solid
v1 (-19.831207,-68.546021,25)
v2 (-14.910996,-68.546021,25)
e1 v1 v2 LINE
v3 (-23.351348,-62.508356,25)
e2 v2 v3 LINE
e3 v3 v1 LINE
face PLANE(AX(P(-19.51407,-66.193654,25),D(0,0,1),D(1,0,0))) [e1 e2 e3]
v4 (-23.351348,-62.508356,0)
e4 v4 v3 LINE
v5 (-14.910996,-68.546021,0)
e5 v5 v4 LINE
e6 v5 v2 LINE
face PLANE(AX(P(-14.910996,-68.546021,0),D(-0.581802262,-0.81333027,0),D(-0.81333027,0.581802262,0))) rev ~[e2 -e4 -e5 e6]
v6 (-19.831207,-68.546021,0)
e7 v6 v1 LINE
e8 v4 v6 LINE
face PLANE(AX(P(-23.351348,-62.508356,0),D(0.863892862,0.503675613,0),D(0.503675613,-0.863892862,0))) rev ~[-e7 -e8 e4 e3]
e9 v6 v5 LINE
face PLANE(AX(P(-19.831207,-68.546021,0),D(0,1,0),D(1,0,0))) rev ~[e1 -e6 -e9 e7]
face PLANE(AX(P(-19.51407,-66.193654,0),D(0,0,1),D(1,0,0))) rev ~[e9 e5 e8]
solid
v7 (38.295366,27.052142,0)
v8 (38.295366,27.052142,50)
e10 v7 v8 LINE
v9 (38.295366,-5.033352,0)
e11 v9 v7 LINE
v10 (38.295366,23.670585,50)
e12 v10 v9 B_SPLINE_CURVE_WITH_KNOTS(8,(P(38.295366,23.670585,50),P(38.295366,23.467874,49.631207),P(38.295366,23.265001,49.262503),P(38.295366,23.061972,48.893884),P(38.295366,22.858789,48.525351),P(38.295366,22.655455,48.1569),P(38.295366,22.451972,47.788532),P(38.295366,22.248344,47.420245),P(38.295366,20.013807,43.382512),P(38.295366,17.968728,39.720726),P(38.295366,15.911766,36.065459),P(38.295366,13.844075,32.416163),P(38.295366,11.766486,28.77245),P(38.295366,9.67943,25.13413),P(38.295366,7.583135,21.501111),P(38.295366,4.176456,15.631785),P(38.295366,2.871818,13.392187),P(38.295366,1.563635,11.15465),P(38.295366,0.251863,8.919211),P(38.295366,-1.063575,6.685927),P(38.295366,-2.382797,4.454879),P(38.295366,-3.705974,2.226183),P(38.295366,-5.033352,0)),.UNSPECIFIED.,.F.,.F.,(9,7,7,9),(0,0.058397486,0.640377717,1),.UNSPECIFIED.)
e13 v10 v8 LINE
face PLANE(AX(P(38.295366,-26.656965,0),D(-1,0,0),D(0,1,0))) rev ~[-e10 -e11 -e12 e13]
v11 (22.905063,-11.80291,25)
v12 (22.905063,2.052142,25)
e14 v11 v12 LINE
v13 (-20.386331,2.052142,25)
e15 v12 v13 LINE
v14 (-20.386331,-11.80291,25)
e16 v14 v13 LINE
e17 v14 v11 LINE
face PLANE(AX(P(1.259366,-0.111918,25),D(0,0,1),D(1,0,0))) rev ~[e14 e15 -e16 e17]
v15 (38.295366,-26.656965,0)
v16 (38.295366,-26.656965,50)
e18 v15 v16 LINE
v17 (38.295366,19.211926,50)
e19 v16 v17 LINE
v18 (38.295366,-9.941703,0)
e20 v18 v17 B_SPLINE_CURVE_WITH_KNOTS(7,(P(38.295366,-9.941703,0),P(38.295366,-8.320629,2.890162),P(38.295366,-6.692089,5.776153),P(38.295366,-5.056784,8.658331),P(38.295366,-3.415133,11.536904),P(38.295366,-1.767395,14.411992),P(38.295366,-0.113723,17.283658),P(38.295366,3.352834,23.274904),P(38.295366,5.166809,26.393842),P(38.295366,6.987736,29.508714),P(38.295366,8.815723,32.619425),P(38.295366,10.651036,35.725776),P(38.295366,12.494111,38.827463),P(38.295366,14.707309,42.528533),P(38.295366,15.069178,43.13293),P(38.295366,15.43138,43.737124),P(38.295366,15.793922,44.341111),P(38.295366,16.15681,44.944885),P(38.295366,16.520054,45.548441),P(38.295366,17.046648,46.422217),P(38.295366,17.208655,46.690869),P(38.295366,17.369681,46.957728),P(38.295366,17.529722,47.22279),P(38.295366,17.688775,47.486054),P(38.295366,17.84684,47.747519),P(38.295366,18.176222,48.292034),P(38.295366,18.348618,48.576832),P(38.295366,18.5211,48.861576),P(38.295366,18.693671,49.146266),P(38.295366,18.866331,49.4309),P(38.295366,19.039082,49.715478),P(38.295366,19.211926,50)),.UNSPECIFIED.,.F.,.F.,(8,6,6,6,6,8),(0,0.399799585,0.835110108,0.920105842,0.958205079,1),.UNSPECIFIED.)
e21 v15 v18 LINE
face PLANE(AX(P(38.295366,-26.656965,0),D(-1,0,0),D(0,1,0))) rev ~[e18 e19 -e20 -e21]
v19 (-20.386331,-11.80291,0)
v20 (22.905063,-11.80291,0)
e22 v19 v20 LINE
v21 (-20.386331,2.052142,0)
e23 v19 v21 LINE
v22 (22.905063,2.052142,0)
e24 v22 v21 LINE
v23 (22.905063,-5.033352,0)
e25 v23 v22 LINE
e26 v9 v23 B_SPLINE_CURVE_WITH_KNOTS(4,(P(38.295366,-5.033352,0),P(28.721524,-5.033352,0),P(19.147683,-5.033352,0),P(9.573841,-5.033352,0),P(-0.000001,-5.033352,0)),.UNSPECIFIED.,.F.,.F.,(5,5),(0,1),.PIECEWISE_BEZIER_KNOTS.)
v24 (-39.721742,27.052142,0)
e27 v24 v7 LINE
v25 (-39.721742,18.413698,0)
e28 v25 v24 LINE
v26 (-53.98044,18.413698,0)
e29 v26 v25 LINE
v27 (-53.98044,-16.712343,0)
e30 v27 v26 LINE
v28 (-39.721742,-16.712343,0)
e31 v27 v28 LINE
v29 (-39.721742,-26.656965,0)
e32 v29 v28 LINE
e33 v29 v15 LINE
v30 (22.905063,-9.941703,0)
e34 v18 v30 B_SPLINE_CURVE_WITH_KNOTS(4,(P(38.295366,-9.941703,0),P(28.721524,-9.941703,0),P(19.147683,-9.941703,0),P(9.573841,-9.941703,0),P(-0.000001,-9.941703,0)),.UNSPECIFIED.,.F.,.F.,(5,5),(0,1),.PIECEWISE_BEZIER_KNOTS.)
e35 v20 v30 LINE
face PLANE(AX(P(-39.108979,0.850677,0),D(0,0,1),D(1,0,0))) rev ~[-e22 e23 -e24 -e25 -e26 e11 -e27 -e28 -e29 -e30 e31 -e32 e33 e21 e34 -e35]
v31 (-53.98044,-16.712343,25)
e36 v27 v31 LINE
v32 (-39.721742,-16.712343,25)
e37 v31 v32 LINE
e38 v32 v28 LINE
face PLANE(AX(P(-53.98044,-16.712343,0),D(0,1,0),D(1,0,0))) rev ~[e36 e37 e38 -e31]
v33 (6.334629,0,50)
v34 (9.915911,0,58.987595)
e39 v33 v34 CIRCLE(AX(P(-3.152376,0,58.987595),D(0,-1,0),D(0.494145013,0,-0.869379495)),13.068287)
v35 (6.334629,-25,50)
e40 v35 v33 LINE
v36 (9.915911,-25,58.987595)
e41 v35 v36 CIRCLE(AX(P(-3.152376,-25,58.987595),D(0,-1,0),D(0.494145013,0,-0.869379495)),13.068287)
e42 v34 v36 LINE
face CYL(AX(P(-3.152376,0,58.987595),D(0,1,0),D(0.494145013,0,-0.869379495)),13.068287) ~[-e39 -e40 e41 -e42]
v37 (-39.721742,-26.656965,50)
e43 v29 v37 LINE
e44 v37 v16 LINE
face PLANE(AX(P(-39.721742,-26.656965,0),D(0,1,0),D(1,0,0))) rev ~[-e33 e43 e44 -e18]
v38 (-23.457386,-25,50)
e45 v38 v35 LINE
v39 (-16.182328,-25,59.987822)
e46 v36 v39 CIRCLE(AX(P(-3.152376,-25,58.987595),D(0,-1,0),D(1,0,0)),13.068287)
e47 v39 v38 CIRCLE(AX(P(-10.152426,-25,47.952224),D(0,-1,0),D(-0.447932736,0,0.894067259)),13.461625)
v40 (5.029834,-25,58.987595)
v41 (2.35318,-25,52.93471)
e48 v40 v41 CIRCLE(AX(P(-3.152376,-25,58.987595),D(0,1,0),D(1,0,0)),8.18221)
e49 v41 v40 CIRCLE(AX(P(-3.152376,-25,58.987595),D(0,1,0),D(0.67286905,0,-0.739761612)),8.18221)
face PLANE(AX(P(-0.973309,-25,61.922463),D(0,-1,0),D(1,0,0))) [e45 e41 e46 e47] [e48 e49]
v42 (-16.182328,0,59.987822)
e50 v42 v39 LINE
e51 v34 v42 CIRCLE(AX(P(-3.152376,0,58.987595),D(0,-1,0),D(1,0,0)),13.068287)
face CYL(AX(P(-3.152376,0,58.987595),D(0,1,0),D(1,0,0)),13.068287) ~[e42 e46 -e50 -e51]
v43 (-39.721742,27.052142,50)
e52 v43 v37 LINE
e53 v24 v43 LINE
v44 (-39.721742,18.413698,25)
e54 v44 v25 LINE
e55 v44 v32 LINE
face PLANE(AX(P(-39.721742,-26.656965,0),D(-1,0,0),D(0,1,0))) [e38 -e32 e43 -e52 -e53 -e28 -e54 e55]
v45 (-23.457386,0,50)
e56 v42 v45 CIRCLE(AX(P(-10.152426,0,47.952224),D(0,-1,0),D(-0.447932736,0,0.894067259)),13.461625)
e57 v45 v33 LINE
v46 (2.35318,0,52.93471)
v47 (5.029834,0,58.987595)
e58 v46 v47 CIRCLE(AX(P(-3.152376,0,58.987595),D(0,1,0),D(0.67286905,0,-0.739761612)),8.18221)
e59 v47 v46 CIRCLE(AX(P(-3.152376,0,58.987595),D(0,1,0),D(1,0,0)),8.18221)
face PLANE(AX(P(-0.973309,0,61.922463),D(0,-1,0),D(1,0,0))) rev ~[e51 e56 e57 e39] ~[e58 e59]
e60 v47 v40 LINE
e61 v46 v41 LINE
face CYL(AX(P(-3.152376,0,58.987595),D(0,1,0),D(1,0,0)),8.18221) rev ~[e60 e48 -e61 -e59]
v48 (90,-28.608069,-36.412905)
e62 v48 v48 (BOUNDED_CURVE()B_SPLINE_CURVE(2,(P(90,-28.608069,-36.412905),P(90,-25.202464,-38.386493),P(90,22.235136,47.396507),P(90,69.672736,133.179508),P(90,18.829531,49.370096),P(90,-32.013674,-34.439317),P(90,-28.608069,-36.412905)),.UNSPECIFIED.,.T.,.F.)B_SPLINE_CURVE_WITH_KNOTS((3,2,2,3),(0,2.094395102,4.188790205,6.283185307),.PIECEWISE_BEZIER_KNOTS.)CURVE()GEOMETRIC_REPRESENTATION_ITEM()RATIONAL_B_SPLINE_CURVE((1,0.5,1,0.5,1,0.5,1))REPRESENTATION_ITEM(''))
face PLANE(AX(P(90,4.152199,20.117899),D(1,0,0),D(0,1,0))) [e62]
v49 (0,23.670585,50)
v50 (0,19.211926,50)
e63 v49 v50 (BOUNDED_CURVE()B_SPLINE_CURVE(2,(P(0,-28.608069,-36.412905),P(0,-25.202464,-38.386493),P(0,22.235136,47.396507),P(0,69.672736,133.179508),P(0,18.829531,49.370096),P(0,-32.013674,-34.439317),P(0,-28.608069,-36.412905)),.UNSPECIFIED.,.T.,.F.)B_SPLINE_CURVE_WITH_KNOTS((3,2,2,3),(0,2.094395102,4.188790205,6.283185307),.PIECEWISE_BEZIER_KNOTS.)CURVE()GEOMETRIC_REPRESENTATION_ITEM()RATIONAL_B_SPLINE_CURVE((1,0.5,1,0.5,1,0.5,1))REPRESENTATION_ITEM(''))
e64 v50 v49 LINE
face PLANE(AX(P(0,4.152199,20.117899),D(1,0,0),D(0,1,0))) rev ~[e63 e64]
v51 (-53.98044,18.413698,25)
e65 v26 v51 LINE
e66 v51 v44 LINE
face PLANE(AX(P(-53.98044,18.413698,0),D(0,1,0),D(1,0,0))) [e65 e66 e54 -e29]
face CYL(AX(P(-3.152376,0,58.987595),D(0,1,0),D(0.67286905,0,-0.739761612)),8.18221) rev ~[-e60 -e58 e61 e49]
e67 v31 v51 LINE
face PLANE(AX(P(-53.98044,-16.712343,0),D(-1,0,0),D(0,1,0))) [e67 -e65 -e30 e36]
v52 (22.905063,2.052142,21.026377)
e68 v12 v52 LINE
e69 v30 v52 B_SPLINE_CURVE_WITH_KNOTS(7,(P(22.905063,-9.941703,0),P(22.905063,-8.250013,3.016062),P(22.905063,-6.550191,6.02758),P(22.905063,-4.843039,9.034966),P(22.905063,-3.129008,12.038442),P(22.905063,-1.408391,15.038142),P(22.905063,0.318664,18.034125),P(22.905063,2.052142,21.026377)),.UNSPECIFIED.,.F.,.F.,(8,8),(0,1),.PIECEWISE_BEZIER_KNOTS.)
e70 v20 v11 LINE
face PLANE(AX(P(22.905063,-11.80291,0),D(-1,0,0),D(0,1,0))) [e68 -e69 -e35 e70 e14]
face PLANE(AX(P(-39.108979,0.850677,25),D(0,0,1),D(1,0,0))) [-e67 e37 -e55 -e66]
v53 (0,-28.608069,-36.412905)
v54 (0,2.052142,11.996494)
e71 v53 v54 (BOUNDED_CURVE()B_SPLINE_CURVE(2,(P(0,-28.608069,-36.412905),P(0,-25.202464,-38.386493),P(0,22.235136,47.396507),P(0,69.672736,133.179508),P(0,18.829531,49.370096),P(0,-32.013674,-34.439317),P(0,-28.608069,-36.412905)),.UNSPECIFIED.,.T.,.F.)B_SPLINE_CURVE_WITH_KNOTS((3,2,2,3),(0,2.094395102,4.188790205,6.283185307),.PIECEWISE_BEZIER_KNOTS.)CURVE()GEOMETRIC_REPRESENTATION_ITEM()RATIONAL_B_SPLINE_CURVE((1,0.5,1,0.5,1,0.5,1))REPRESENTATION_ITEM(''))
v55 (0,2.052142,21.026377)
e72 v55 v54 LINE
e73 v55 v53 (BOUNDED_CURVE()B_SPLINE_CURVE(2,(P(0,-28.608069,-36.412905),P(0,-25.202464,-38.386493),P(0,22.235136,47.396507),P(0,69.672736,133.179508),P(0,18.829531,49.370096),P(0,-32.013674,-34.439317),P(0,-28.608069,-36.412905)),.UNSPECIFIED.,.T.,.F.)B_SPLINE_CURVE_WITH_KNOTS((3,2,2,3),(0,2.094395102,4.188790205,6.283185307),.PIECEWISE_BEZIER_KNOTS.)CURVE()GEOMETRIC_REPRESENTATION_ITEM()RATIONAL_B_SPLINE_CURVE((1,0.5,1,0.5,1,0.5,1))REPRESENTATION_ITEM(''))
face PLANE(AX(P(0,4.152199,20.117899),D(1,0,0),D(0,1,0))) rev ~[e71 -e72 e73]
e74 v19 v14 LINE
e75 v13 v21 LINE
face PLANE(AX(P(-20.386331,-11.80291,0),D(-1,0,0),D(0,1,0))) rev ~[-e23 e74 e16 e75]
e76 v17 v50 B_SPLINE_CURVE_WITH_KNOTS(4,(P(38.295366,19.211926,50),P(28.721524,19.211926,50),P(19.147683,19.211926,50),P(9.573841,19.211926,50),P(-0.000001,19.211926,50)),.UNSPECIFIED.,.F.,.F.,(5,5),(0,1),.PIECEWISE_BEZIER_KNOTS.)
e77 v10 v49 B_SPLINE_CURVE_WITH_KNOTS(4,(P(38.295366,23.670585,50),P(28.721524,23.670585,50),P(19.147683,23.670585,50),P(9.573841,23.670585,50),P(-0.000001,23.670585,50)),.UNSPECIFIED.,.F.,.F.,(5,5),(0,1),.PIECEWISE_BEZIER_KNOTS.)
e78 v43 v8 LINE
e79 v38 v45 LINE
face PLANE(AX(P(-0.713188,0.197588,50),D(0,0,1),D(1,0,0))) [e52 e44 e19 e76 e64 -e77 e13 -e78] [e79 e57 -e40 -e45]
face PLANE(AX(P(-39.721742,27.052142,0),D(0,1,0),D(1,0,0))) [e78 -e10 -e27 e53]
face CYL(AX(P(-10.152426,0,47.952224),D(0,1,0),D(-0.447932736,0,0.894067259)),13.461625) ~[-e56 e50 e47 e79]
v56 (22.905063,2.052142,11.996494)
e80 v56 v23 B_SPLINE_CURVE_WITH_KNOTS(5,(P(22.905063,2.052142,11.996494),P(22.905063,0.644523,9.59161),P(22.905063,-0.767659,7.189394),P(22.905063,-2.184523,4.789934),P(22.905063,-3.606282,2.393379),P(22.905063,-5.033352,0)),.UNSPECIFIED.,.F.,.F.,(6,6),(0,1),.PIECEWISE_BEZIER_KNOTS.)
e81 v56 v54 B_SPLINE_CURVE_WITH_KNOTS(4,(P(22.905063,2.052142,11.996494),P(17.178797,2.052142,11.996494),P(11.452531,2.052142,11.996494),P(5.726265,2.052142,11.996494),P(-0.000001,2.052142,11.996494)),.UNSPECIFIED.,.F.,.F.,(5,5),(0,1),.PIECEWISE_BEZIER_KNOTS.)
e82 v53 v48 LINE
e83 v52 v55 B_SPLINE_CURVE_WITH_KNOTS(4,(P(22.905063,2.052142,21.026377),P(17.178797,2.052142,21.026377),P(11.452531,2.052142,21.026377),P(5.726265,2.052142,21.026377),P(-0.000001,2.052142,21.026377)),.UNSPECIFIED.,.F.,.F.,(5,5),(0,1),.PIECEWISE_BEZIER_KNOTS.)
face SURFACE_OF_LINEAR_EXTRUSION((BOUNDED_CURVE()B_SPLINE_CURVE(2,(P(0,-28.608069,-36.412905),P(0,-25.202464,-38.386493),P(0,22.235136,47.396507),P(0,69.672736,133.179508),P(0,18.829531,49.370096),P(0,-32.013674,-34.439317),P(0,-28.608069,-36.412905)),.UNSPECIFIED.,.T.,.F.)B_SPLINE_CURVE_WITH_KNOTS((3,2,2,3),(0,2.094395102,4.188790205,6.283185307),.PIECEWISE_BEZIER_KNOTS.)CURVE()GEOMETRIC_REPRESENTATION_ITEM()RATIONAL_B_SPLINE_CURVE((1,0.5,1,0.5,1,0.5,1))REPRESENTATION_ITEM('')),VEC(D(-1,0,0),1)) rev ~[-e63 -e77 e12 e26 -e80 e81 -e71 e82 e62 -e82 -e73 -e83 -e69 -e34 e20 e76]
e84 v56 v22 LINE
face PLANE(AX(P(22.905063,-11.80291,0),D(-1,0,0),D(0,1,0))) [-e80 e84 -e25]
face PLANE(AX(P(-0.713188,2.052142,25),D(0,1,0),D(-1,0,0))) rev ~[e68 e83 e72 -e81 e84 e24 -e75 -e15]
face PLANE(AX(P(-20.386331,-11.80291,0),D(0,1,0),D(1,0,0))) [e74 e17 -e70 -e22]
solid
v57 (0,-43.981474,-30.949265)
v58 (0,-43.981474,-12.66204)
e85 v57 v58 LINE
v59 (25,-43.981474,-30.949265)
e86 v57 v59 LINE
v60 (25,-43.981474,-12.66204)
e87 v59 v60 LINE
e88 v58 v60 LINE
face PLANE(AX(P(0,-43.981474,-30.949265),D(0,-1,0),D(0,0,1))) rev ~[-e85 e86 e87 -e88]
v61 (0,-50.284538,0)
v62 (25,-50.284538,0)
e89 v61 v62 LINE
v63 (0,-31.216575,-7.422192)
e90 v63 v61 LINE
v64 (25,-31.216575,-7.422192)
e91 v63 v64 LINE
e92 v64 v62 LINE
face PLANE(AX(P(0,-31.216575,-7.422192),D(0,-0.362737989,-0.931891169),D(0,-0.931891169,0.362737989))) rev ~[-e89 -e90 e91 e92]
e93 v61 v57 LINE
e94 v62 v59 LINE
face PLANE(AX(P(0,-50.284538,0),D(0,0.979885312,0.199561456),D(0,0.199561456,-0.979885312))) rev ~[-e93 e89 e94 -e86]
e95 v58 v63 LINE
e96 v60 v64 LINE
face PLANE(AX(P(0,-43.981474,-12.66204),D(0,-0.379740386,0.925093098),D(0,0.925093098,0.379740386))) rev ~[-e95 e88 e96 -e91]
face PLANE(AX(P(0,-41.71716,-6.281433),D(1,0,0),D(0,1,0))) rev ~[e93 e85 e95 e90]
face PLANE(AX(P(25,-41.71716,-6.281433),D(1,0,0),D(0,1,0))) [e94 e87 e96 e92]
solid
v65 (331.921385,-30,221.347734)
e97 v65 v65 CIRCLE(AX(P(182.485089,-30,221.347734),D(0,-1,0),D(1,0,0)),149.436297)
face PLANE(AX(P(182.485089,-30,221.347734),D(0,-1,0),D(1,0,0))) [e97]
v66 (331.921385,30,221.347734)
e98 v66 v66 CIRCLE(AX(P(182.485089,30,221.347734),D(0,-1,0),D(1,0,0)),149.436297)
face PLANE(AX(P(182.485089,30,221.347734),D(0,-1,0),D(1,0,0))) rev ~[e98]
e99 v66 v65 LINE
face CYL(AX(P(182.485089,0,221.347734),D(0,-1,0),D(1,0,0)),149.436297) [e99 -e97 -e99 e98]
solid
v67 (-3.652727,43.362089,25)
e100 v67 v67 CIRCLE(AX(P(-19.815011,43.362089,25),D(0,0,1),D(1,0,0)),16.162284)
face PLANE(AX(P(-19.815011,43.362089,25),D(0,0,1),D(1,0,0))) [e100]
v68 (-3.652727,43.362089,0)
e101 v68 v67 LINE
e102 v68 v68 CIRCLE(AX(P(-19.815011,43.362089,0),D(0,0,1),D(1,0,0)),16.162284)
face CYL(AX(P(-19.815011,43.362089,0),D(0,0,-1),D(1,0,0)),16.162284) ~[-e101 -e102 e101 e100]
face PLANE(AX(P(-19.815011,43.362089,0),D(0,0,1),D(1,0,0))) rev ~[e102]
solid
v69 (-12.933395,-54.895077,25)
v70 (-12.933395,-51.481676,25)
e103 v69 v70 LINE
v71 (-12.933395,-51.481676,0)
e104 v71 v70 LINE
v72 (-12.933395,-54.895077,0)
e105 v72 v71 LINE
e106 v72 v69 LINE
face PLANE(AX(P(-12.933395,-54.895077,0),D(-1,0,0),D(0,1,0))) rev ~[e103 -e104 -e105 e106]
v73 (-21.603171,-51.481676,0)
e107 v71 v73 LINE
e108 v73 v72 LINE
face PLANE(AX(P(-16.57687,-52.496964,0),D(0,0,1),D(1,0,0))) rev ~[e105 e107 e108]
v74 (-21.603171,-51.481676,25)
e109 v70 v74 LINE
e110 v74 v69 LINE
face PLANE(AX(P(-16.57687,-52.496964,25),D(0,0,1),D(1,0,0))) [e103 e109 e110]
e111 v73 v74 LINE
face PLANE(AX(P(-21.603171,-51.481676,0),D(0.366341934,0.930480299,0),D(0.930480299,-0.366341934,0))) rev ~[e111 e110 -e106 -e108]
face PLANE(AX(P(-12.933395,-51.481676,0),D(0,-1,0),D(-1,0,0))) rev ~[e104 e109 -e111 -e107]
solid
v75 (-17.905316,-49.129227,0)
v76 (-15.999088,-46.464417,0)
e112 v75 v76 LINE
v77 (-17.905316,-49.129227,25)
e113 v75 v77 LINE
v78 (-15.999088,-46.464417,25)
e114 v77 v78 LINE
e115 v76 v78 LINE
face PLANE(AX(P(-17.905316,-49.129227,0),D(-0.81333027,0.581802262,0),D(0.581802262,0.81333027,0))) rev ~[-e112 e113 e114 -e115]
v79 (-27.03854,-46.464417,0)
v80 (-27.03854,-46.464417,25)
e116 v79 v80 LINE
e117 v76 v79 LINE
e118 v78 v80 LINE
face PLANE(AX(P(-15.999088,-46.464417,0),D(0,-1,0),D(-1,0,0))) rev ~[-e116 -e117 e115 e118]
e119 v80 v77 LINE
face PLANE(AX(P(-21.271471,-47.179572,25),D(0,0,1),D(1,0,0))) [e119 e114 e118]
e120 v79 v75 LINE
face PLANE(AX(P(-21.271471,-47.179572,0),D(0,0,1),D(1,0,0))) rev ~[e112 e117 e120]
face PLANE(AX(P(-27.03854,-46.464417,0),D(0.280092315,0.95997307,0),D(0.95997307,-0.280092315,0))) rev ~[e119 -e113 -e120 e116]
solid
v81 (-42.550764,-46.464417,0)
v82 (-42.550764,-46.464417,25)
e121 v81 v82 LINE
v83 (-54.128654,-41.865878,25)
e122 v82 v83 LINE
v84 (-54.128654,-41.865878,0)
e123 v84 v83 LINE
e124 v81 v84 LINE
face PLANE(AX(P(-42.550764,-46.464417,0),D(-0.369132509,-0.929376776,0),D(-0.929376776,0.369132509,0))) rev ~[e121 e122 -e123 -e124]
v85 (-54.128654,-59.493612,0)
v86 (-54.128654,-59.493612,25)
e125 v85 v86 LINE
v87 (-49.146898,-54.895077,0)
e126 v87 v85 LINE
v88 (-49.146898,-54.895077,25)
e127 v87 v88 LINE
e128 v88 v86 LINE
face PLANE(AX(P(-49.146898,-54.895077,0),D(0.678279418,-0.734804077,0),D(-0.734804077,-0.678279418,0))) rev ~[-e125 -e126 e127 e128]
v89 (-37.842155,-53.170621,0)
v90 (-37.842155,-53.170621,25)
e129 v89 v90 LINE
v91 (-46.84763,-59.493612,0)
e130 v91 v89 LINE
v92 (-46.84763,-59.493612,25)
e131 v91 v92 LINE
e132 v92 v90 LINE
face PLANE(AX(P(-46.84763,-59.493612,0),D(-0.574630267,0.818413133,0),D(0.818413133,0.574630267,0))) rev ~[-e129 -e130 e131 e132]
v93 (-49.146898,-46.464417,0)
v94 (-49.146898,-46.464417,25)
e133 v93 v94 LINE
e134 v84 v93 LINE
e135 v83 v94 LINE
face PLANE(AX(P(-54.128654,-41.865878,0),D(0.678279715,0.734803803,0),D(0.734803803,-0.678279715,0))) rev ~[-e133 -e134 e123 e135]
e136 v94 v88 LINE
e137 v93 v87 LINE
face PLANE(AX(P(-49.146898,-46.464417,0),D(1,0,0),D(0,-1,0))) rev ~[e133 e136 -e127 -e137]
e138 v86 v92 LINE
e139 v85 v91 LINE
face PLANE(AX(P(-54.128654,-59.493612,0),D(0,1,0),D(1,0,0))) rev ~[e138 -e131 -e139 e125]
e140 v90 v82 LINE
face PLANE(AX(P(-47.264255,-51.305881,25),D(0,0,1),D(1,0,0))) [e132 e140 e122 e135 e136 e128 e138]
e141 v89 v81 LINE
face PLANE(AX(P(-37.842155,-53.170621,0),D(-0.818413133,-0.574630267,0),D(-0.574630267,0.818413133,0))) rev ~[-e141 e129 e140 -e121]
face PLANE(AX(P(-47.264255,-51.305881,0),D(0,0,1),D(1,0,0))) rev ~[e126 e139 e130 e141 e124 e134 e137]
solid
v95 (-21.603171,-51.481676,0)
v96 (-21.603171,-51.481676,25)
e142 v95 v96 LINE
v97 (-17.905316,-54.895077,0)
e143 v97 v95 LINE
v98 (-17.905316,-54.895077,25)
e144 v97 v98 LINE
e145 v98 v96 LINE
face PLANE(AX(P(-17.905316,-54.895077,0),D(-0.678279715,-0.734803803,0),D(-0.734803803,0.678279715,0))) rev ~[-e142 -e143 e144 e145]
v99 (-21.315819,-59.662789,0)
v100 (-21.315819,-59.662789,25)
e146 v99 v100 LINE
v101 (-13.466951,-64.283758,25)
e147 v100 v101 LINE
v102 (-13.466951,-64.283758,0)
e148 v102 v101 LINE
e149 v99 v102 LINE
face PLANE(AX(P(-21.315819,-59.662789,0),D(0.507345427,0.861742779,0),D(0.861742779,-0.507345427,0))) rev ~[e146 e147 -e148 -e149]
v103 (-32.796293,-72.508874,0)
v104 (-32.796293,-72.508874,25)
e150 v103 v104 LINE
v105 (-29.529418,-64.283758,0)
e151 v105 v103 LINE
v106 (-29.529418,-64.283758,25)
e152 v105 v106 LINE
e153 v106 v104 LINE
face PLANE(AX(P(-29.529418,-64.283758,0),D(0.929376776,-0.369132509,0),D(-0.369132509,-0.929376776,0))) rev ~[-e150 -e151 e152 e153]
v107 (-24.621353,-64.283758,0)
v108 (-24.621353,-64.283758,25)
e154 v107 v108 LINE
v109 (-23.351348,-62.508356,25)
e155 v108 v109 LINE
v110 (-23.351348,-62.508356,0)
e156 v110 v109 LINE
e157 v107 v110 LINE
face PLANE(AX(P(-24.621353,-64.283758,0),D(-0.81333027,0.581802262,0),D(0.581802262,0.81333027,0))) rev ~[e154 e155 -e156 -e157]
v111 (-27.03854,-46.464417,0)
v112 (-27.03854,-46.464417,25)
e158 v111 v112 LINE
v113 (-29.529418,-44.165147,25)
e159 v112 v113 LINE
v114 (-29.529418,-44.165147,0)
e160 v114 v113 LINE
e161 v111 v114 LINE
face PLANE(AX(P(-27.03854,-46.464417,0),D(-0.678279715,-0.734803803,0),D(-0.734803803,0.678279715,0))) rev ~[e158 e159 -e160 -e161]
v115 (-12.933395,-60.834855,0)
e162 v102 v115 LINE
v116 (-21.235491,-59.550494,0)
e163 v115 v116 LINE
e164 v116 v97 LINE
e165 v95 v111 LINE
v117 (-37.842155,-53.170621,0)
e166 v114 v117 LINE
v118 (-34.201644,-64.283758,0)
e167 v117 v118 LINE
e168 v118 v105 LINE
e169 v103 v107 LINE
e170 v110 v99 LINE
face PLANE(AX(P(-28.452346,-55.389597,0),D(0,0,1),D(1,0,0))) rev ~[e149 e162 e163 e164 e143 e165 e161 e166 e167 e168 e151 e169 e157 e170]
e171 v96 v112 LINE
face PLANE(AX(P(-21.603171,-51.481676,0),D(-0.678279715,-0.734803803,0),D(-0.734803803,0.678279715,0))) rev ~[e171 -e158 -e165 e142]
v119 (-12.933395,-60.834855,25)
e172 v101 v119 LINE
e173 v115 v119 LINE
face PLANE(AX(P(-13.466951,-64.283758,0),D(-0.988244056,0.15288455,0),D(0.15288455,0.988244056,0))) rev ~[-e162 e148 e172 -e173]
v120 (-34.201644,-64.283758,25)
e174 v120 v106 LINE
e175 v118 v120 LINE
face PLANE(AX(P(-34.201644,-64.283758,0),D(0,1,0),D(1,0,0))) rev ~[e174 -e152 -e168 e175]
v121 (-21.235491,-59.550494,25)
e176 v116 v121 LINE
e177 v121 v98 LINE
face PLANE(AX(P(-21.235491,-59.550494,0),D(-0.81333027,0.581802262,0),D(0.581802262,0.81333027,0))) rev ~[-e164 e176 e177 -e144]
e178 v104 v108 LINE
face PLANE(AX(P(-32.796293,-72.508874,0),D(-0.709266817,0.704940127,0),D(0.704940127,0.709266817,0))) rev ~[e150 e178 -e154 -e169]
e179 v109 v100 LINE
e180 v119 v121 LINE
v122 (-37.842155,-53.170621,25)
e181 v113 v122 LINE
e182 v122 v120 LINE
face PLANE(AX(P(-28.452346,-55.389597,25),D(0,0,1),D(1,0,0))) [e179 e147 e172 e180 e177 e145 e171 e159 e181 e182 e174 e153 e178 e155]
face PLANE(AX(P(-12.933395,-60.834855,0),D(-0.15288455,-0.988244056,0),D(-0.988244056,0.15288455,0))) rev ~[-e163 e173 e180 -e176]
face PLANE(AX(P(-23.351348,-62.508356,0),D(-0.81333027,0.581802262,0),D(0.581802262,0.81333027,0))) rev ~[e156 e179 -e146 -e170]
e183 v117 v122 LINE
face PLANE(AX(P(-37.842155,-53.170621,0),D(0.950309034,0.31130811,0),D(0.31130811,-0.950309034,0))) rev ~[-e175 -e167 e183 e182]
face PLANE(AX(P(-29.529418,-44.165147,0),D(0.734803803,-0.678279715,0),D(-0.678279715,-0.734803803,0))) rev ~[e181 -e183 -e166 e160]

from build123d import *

# Parameters (mm, degrees)
F0_W      = 78.0171081424
F0_H      = 53.7091065198
F1_DEPTH  = 50
F2_W      = 43.2913936675
F2_H      = 23.38198293
F3_DEPTH  = 25
F4_R      = 16.1622843201
F5_DEPTH  = 25
F6_W      = 29.7429226339
F6_H      = 35.126041621
F7_DEPTH  = 25
F1_FACE_W = 78.0171081424
F1_FACE_H = 50
F9_DEPTH  = 25
F11_DEPTH = 25
F13_DEPTH = 25
F15_DEPTH = 90
F16_R     = 149.4362967726
F17_DEPTH = 30
F19_DEPTH = 30


with BuildPart() as f1:
    # F0 (on Top) → F1 (new body)
    with BuildSketch(Plane.XY):
        with Locations((-0.7131882012, 0.1975884661)):
            Rectangle(F0_W, F0_H)
    extrude(amount=F1_DEPTH)

    # F2 (on Top) → F3 (cut)
    with BuildSketch(Plane.XY):
        with Locations((1.2593660504, -0.1119184308)):
            Rectangle(F2_W, F2_H)
    extrude(amount=F3_DEPTH, mode=Mode.SUBTRACT)

    # F6 (on Top) → F7 (join)
    with BuildSketch(Plane.XY):
        with Locations((-39.1089785844, 0.8506774902)):
            Rectangle(F6_W, F6_H)
    extrude(amount=F7_DEPTH)

    # F8 (on Front) + F1_face (on face) → F9 (join)
    with BuildSketch(Plane.XZ):
        with BuildLine():
            ThreePointArc((3.3052529521, 47.6262945357), (8.1429830955, 52.4153057463), (9.915911021, 58.9875951409))
            ThreePointArc((9.915911021, 58.9875951409), (-2.6518951553, 72.046294914), (-16.1823284794, 59.9878221287))
            ThreePointArc((-16.1823284794, 59.9878221287), (-13.6492071487, 60.9517573762), (-10.9743377972, 61.3887342513))
            ThreePointArc((-10.9743377972, 61.3887342513), (-1.9383692631, 67.079241852), (5.0298340639, 58.9875951409))
            ThreePointArc((5.0298340639, 58.9875951409), (4.3308110545, 55.678445285), (2.3531799715, 52.9347103786))
            ThreePointArc((2.3531799715, 52.9347103786), (3.068034148, 50.4889118941), (3.3091991882, 47.9522238677))
            ThreePointArc((3.3091991882, 47.9522238677), (3.308212593, 47.7892472572), (3.3052529521, 47.6262945357))
        make_face()
        with BuildLine():
            ThreePointArc((-10.9743377972, 61.3887342513), (-13.6492071487, 60.9517573762), (-16.1823284794, 59.9878221287))
            ThreePointArc((-16.1823284794, 59.9878221287), (-10.1524259154, 47.9522238677), (3.3052529521, 47.6262945357))
            ThreePointArc((3.3052529521, 47.6262945357), (3.308212593, 47.7892472572), (3.3091991882, 47.9522238677))
            ThreePointArc((3.3091991882, 47.9522238677), (3.068034148, 50.4889118941), (2.3531799715, 52.9347103786))
            ThreePointArc((2.3531799715, 52.9347103786), (-7.5351904678, 52.0782178864), (-10.9743377972, 61.3887342513))
        make_face()
        with BuildLine():
            ThreePointArc((3.3052529521, 47.6262945357), (-10.1524259154, 47.9522238677), (-16.1823284794, 59.9878221287))
            ThreePointArc((-16.1823284794, 59.9878221287), (-17.3631683399, 36.5847024087), (3.3052529521, 47.6262945357))
        make_face()
    with BuildSketch(Plane(origin=(-0.7131882012, 27.052141726, 25), x_dir=(-1, 0, 0), z_dir=(0, 1, 0))):
        Rectangle(F1_FACE_W, F1_FACE_H)
    extrude(amount=F9_DEPTH, dir=(0, -1, 0))

    # F14 (on Right) → F15 (join)
    with BuildSketch(Plane.YZ):
        with BuildLine():
            add(Edge.make_bspline(
                [(-28.6080688917, -36.4129050816), (-25.2024638091, -38.386493406), (22.2351358673, 47.396507483), (69.6727355437, 133.1795083721), (18.8295307847, 49.3700958075), (-32.0136739743, -34.4393167572), (-28.6080688917, -36.4129050816)],
                knots=[0, 0, 0, 2.0943951024, 2.0943951024, 4.1887902048, 4.1887902048, 6.2831853072, 6.2831853072, 6.2831853072], degree=2, weights=[1, 0.5, 1, 0.5, 1, 0.5, 1]))
        make_face()
    extrude(amount=F15_DEPTH)


with BuildPart() as f5:
    # F4 (on Top) → F5 (new body)
    with BuildSketch(Plane.XY):
        with Locations((-19.81501095, 43.3620885015)):
            Circle(F4_R)
    extrude(amount=F5_DEPTH)


with BuildPart() as f11:
    # F10 (on Right) → F11 (new body)
    with BuildSketch(Plane.YZ):
        Polygon((-43.9814738929, -12.6620400697), (-31.2165748328, -7.4221915565), (-50.2845384181, 0), align=None)
        Polygon((-43.9814738929, -12.6620400697), (-50.2845384181, 0), (-43.9814738929, -30.9492647648), align=None)
    extrude(amount=F11_DEPTH)


with BuildPart() as f13:
    # F12 (on Top) → F13 (new body)
    with BuildSketch(Plane.XY):
        Polygon((-42.5507641195, -46.4644171298), (-54.1286543012, -41.8658778071), (-49.1468980908, -46.4644171298), (-49.1468980908, -54.8950769007), (-54.1286543012, -59.493612498), (-46.8476302922, -59.493612498), (-37.8421545029, -53.1706213951), align=None)
    extrude(amount=F13_DEPTH)


with BuildPart() as f13b:
    # F12 (on Top) → F13, piece 2 (new body)
    with BuildSketch(Plane.XY):
        Polygon((-15.9990880638, -46.4644171298), (-27.0385400409, -46.4644171298), (-17.9053156136, -49.1292272691), align=None)
    extrude(amount=F13_DEPTH)


with BuildPart() as f13c:
    # F12 (on Top) → F13, piece 3 (new body)
    with BuildSketch(Plane.XY):
        Polygon((-12.9333948717, -51.4816758476), (-21.6031706718, -51.4816758476), (-12.9333948717, -54.8950769007), align=None)
    extrude(amount=F13_DEPTH)


with BuildPart() as f13d:
    # F12 (on Top) → F13, piece 4 (new body)
    with BuildSketch(Plane.XY):
        Polygon((-14.9109957364, -68.5460207202), (-23.3513476815, -62.5083555335), (-19.8312066495, -68.5460207202), align=None)
    extrude(amount=F13_DEPTH)


with BuildPart() as f13e:
    # F12 (on Top) → F13, piece 5 (new body)
    with BuildSketch(Plane.XY):
        Polygon((-29.529418146, -44.1651474684), (-37.8421545029, -53.1706213951), (-34.201644361, -64.2837584019), (-29.529418146, -64.2837584019), (-24.6213525534, -64.2837584019), (-23.3513476815, -62.5083555335), (-21.315818997, -59.662788918), (-21.6031706718, -59.493612498), (-21.2354905552, -59.5504938007), (-17.9053156136, -54.8950769007), (-21.6031706718, -51.4816758476), (-27.0385400409, -46.4644171298), align=None)
        Polygon((-24.6213525534, -64.2837584019), (-29.529418146, -64.2837584019), (-32.7962928402, -72.5088737686), align=None)
        Polygon((-12.9333948717, -60.8348548412), (-21.2354905552, -59.5504938007), (-21.315818997, -59.662788918), (-13.4669514018, -64.2837584019), align=None)
        Polygon((-21.315818997, -59.662788918), (-21.2354905552, -59.5504938007), (-21.6031706718, -59.493612498), align=None)
    extrude(amount=F13_DEPTH)


with BuildPart() as f17:
    # F16 (on Front) → F17 (new body, symmetric)
    with BuildSketch(Plane.XZ):
        with Locations((182.485088706, 221.3477343321)):
            Circle(F16_R)
    extrude(amount=F17_DEPTH, both=True)

    # F18 (on face) → F19 (join)
    with BuildSketch(Plane.XZ.offset(30)):
        Polygon((124.3307366967, 330.522865057), (93.8902646303, 165.1210784912), (222.3787158728, 127.0541101694), (245.722129941, 281.3443541527), align=None)
    extrude(amount=-F19_DEPTH)


solid = Compound([f1.part, f5.part, f11.part, f13.part, f13b.part, f13c.part, f13d.part, f13e.part, f17.part])
